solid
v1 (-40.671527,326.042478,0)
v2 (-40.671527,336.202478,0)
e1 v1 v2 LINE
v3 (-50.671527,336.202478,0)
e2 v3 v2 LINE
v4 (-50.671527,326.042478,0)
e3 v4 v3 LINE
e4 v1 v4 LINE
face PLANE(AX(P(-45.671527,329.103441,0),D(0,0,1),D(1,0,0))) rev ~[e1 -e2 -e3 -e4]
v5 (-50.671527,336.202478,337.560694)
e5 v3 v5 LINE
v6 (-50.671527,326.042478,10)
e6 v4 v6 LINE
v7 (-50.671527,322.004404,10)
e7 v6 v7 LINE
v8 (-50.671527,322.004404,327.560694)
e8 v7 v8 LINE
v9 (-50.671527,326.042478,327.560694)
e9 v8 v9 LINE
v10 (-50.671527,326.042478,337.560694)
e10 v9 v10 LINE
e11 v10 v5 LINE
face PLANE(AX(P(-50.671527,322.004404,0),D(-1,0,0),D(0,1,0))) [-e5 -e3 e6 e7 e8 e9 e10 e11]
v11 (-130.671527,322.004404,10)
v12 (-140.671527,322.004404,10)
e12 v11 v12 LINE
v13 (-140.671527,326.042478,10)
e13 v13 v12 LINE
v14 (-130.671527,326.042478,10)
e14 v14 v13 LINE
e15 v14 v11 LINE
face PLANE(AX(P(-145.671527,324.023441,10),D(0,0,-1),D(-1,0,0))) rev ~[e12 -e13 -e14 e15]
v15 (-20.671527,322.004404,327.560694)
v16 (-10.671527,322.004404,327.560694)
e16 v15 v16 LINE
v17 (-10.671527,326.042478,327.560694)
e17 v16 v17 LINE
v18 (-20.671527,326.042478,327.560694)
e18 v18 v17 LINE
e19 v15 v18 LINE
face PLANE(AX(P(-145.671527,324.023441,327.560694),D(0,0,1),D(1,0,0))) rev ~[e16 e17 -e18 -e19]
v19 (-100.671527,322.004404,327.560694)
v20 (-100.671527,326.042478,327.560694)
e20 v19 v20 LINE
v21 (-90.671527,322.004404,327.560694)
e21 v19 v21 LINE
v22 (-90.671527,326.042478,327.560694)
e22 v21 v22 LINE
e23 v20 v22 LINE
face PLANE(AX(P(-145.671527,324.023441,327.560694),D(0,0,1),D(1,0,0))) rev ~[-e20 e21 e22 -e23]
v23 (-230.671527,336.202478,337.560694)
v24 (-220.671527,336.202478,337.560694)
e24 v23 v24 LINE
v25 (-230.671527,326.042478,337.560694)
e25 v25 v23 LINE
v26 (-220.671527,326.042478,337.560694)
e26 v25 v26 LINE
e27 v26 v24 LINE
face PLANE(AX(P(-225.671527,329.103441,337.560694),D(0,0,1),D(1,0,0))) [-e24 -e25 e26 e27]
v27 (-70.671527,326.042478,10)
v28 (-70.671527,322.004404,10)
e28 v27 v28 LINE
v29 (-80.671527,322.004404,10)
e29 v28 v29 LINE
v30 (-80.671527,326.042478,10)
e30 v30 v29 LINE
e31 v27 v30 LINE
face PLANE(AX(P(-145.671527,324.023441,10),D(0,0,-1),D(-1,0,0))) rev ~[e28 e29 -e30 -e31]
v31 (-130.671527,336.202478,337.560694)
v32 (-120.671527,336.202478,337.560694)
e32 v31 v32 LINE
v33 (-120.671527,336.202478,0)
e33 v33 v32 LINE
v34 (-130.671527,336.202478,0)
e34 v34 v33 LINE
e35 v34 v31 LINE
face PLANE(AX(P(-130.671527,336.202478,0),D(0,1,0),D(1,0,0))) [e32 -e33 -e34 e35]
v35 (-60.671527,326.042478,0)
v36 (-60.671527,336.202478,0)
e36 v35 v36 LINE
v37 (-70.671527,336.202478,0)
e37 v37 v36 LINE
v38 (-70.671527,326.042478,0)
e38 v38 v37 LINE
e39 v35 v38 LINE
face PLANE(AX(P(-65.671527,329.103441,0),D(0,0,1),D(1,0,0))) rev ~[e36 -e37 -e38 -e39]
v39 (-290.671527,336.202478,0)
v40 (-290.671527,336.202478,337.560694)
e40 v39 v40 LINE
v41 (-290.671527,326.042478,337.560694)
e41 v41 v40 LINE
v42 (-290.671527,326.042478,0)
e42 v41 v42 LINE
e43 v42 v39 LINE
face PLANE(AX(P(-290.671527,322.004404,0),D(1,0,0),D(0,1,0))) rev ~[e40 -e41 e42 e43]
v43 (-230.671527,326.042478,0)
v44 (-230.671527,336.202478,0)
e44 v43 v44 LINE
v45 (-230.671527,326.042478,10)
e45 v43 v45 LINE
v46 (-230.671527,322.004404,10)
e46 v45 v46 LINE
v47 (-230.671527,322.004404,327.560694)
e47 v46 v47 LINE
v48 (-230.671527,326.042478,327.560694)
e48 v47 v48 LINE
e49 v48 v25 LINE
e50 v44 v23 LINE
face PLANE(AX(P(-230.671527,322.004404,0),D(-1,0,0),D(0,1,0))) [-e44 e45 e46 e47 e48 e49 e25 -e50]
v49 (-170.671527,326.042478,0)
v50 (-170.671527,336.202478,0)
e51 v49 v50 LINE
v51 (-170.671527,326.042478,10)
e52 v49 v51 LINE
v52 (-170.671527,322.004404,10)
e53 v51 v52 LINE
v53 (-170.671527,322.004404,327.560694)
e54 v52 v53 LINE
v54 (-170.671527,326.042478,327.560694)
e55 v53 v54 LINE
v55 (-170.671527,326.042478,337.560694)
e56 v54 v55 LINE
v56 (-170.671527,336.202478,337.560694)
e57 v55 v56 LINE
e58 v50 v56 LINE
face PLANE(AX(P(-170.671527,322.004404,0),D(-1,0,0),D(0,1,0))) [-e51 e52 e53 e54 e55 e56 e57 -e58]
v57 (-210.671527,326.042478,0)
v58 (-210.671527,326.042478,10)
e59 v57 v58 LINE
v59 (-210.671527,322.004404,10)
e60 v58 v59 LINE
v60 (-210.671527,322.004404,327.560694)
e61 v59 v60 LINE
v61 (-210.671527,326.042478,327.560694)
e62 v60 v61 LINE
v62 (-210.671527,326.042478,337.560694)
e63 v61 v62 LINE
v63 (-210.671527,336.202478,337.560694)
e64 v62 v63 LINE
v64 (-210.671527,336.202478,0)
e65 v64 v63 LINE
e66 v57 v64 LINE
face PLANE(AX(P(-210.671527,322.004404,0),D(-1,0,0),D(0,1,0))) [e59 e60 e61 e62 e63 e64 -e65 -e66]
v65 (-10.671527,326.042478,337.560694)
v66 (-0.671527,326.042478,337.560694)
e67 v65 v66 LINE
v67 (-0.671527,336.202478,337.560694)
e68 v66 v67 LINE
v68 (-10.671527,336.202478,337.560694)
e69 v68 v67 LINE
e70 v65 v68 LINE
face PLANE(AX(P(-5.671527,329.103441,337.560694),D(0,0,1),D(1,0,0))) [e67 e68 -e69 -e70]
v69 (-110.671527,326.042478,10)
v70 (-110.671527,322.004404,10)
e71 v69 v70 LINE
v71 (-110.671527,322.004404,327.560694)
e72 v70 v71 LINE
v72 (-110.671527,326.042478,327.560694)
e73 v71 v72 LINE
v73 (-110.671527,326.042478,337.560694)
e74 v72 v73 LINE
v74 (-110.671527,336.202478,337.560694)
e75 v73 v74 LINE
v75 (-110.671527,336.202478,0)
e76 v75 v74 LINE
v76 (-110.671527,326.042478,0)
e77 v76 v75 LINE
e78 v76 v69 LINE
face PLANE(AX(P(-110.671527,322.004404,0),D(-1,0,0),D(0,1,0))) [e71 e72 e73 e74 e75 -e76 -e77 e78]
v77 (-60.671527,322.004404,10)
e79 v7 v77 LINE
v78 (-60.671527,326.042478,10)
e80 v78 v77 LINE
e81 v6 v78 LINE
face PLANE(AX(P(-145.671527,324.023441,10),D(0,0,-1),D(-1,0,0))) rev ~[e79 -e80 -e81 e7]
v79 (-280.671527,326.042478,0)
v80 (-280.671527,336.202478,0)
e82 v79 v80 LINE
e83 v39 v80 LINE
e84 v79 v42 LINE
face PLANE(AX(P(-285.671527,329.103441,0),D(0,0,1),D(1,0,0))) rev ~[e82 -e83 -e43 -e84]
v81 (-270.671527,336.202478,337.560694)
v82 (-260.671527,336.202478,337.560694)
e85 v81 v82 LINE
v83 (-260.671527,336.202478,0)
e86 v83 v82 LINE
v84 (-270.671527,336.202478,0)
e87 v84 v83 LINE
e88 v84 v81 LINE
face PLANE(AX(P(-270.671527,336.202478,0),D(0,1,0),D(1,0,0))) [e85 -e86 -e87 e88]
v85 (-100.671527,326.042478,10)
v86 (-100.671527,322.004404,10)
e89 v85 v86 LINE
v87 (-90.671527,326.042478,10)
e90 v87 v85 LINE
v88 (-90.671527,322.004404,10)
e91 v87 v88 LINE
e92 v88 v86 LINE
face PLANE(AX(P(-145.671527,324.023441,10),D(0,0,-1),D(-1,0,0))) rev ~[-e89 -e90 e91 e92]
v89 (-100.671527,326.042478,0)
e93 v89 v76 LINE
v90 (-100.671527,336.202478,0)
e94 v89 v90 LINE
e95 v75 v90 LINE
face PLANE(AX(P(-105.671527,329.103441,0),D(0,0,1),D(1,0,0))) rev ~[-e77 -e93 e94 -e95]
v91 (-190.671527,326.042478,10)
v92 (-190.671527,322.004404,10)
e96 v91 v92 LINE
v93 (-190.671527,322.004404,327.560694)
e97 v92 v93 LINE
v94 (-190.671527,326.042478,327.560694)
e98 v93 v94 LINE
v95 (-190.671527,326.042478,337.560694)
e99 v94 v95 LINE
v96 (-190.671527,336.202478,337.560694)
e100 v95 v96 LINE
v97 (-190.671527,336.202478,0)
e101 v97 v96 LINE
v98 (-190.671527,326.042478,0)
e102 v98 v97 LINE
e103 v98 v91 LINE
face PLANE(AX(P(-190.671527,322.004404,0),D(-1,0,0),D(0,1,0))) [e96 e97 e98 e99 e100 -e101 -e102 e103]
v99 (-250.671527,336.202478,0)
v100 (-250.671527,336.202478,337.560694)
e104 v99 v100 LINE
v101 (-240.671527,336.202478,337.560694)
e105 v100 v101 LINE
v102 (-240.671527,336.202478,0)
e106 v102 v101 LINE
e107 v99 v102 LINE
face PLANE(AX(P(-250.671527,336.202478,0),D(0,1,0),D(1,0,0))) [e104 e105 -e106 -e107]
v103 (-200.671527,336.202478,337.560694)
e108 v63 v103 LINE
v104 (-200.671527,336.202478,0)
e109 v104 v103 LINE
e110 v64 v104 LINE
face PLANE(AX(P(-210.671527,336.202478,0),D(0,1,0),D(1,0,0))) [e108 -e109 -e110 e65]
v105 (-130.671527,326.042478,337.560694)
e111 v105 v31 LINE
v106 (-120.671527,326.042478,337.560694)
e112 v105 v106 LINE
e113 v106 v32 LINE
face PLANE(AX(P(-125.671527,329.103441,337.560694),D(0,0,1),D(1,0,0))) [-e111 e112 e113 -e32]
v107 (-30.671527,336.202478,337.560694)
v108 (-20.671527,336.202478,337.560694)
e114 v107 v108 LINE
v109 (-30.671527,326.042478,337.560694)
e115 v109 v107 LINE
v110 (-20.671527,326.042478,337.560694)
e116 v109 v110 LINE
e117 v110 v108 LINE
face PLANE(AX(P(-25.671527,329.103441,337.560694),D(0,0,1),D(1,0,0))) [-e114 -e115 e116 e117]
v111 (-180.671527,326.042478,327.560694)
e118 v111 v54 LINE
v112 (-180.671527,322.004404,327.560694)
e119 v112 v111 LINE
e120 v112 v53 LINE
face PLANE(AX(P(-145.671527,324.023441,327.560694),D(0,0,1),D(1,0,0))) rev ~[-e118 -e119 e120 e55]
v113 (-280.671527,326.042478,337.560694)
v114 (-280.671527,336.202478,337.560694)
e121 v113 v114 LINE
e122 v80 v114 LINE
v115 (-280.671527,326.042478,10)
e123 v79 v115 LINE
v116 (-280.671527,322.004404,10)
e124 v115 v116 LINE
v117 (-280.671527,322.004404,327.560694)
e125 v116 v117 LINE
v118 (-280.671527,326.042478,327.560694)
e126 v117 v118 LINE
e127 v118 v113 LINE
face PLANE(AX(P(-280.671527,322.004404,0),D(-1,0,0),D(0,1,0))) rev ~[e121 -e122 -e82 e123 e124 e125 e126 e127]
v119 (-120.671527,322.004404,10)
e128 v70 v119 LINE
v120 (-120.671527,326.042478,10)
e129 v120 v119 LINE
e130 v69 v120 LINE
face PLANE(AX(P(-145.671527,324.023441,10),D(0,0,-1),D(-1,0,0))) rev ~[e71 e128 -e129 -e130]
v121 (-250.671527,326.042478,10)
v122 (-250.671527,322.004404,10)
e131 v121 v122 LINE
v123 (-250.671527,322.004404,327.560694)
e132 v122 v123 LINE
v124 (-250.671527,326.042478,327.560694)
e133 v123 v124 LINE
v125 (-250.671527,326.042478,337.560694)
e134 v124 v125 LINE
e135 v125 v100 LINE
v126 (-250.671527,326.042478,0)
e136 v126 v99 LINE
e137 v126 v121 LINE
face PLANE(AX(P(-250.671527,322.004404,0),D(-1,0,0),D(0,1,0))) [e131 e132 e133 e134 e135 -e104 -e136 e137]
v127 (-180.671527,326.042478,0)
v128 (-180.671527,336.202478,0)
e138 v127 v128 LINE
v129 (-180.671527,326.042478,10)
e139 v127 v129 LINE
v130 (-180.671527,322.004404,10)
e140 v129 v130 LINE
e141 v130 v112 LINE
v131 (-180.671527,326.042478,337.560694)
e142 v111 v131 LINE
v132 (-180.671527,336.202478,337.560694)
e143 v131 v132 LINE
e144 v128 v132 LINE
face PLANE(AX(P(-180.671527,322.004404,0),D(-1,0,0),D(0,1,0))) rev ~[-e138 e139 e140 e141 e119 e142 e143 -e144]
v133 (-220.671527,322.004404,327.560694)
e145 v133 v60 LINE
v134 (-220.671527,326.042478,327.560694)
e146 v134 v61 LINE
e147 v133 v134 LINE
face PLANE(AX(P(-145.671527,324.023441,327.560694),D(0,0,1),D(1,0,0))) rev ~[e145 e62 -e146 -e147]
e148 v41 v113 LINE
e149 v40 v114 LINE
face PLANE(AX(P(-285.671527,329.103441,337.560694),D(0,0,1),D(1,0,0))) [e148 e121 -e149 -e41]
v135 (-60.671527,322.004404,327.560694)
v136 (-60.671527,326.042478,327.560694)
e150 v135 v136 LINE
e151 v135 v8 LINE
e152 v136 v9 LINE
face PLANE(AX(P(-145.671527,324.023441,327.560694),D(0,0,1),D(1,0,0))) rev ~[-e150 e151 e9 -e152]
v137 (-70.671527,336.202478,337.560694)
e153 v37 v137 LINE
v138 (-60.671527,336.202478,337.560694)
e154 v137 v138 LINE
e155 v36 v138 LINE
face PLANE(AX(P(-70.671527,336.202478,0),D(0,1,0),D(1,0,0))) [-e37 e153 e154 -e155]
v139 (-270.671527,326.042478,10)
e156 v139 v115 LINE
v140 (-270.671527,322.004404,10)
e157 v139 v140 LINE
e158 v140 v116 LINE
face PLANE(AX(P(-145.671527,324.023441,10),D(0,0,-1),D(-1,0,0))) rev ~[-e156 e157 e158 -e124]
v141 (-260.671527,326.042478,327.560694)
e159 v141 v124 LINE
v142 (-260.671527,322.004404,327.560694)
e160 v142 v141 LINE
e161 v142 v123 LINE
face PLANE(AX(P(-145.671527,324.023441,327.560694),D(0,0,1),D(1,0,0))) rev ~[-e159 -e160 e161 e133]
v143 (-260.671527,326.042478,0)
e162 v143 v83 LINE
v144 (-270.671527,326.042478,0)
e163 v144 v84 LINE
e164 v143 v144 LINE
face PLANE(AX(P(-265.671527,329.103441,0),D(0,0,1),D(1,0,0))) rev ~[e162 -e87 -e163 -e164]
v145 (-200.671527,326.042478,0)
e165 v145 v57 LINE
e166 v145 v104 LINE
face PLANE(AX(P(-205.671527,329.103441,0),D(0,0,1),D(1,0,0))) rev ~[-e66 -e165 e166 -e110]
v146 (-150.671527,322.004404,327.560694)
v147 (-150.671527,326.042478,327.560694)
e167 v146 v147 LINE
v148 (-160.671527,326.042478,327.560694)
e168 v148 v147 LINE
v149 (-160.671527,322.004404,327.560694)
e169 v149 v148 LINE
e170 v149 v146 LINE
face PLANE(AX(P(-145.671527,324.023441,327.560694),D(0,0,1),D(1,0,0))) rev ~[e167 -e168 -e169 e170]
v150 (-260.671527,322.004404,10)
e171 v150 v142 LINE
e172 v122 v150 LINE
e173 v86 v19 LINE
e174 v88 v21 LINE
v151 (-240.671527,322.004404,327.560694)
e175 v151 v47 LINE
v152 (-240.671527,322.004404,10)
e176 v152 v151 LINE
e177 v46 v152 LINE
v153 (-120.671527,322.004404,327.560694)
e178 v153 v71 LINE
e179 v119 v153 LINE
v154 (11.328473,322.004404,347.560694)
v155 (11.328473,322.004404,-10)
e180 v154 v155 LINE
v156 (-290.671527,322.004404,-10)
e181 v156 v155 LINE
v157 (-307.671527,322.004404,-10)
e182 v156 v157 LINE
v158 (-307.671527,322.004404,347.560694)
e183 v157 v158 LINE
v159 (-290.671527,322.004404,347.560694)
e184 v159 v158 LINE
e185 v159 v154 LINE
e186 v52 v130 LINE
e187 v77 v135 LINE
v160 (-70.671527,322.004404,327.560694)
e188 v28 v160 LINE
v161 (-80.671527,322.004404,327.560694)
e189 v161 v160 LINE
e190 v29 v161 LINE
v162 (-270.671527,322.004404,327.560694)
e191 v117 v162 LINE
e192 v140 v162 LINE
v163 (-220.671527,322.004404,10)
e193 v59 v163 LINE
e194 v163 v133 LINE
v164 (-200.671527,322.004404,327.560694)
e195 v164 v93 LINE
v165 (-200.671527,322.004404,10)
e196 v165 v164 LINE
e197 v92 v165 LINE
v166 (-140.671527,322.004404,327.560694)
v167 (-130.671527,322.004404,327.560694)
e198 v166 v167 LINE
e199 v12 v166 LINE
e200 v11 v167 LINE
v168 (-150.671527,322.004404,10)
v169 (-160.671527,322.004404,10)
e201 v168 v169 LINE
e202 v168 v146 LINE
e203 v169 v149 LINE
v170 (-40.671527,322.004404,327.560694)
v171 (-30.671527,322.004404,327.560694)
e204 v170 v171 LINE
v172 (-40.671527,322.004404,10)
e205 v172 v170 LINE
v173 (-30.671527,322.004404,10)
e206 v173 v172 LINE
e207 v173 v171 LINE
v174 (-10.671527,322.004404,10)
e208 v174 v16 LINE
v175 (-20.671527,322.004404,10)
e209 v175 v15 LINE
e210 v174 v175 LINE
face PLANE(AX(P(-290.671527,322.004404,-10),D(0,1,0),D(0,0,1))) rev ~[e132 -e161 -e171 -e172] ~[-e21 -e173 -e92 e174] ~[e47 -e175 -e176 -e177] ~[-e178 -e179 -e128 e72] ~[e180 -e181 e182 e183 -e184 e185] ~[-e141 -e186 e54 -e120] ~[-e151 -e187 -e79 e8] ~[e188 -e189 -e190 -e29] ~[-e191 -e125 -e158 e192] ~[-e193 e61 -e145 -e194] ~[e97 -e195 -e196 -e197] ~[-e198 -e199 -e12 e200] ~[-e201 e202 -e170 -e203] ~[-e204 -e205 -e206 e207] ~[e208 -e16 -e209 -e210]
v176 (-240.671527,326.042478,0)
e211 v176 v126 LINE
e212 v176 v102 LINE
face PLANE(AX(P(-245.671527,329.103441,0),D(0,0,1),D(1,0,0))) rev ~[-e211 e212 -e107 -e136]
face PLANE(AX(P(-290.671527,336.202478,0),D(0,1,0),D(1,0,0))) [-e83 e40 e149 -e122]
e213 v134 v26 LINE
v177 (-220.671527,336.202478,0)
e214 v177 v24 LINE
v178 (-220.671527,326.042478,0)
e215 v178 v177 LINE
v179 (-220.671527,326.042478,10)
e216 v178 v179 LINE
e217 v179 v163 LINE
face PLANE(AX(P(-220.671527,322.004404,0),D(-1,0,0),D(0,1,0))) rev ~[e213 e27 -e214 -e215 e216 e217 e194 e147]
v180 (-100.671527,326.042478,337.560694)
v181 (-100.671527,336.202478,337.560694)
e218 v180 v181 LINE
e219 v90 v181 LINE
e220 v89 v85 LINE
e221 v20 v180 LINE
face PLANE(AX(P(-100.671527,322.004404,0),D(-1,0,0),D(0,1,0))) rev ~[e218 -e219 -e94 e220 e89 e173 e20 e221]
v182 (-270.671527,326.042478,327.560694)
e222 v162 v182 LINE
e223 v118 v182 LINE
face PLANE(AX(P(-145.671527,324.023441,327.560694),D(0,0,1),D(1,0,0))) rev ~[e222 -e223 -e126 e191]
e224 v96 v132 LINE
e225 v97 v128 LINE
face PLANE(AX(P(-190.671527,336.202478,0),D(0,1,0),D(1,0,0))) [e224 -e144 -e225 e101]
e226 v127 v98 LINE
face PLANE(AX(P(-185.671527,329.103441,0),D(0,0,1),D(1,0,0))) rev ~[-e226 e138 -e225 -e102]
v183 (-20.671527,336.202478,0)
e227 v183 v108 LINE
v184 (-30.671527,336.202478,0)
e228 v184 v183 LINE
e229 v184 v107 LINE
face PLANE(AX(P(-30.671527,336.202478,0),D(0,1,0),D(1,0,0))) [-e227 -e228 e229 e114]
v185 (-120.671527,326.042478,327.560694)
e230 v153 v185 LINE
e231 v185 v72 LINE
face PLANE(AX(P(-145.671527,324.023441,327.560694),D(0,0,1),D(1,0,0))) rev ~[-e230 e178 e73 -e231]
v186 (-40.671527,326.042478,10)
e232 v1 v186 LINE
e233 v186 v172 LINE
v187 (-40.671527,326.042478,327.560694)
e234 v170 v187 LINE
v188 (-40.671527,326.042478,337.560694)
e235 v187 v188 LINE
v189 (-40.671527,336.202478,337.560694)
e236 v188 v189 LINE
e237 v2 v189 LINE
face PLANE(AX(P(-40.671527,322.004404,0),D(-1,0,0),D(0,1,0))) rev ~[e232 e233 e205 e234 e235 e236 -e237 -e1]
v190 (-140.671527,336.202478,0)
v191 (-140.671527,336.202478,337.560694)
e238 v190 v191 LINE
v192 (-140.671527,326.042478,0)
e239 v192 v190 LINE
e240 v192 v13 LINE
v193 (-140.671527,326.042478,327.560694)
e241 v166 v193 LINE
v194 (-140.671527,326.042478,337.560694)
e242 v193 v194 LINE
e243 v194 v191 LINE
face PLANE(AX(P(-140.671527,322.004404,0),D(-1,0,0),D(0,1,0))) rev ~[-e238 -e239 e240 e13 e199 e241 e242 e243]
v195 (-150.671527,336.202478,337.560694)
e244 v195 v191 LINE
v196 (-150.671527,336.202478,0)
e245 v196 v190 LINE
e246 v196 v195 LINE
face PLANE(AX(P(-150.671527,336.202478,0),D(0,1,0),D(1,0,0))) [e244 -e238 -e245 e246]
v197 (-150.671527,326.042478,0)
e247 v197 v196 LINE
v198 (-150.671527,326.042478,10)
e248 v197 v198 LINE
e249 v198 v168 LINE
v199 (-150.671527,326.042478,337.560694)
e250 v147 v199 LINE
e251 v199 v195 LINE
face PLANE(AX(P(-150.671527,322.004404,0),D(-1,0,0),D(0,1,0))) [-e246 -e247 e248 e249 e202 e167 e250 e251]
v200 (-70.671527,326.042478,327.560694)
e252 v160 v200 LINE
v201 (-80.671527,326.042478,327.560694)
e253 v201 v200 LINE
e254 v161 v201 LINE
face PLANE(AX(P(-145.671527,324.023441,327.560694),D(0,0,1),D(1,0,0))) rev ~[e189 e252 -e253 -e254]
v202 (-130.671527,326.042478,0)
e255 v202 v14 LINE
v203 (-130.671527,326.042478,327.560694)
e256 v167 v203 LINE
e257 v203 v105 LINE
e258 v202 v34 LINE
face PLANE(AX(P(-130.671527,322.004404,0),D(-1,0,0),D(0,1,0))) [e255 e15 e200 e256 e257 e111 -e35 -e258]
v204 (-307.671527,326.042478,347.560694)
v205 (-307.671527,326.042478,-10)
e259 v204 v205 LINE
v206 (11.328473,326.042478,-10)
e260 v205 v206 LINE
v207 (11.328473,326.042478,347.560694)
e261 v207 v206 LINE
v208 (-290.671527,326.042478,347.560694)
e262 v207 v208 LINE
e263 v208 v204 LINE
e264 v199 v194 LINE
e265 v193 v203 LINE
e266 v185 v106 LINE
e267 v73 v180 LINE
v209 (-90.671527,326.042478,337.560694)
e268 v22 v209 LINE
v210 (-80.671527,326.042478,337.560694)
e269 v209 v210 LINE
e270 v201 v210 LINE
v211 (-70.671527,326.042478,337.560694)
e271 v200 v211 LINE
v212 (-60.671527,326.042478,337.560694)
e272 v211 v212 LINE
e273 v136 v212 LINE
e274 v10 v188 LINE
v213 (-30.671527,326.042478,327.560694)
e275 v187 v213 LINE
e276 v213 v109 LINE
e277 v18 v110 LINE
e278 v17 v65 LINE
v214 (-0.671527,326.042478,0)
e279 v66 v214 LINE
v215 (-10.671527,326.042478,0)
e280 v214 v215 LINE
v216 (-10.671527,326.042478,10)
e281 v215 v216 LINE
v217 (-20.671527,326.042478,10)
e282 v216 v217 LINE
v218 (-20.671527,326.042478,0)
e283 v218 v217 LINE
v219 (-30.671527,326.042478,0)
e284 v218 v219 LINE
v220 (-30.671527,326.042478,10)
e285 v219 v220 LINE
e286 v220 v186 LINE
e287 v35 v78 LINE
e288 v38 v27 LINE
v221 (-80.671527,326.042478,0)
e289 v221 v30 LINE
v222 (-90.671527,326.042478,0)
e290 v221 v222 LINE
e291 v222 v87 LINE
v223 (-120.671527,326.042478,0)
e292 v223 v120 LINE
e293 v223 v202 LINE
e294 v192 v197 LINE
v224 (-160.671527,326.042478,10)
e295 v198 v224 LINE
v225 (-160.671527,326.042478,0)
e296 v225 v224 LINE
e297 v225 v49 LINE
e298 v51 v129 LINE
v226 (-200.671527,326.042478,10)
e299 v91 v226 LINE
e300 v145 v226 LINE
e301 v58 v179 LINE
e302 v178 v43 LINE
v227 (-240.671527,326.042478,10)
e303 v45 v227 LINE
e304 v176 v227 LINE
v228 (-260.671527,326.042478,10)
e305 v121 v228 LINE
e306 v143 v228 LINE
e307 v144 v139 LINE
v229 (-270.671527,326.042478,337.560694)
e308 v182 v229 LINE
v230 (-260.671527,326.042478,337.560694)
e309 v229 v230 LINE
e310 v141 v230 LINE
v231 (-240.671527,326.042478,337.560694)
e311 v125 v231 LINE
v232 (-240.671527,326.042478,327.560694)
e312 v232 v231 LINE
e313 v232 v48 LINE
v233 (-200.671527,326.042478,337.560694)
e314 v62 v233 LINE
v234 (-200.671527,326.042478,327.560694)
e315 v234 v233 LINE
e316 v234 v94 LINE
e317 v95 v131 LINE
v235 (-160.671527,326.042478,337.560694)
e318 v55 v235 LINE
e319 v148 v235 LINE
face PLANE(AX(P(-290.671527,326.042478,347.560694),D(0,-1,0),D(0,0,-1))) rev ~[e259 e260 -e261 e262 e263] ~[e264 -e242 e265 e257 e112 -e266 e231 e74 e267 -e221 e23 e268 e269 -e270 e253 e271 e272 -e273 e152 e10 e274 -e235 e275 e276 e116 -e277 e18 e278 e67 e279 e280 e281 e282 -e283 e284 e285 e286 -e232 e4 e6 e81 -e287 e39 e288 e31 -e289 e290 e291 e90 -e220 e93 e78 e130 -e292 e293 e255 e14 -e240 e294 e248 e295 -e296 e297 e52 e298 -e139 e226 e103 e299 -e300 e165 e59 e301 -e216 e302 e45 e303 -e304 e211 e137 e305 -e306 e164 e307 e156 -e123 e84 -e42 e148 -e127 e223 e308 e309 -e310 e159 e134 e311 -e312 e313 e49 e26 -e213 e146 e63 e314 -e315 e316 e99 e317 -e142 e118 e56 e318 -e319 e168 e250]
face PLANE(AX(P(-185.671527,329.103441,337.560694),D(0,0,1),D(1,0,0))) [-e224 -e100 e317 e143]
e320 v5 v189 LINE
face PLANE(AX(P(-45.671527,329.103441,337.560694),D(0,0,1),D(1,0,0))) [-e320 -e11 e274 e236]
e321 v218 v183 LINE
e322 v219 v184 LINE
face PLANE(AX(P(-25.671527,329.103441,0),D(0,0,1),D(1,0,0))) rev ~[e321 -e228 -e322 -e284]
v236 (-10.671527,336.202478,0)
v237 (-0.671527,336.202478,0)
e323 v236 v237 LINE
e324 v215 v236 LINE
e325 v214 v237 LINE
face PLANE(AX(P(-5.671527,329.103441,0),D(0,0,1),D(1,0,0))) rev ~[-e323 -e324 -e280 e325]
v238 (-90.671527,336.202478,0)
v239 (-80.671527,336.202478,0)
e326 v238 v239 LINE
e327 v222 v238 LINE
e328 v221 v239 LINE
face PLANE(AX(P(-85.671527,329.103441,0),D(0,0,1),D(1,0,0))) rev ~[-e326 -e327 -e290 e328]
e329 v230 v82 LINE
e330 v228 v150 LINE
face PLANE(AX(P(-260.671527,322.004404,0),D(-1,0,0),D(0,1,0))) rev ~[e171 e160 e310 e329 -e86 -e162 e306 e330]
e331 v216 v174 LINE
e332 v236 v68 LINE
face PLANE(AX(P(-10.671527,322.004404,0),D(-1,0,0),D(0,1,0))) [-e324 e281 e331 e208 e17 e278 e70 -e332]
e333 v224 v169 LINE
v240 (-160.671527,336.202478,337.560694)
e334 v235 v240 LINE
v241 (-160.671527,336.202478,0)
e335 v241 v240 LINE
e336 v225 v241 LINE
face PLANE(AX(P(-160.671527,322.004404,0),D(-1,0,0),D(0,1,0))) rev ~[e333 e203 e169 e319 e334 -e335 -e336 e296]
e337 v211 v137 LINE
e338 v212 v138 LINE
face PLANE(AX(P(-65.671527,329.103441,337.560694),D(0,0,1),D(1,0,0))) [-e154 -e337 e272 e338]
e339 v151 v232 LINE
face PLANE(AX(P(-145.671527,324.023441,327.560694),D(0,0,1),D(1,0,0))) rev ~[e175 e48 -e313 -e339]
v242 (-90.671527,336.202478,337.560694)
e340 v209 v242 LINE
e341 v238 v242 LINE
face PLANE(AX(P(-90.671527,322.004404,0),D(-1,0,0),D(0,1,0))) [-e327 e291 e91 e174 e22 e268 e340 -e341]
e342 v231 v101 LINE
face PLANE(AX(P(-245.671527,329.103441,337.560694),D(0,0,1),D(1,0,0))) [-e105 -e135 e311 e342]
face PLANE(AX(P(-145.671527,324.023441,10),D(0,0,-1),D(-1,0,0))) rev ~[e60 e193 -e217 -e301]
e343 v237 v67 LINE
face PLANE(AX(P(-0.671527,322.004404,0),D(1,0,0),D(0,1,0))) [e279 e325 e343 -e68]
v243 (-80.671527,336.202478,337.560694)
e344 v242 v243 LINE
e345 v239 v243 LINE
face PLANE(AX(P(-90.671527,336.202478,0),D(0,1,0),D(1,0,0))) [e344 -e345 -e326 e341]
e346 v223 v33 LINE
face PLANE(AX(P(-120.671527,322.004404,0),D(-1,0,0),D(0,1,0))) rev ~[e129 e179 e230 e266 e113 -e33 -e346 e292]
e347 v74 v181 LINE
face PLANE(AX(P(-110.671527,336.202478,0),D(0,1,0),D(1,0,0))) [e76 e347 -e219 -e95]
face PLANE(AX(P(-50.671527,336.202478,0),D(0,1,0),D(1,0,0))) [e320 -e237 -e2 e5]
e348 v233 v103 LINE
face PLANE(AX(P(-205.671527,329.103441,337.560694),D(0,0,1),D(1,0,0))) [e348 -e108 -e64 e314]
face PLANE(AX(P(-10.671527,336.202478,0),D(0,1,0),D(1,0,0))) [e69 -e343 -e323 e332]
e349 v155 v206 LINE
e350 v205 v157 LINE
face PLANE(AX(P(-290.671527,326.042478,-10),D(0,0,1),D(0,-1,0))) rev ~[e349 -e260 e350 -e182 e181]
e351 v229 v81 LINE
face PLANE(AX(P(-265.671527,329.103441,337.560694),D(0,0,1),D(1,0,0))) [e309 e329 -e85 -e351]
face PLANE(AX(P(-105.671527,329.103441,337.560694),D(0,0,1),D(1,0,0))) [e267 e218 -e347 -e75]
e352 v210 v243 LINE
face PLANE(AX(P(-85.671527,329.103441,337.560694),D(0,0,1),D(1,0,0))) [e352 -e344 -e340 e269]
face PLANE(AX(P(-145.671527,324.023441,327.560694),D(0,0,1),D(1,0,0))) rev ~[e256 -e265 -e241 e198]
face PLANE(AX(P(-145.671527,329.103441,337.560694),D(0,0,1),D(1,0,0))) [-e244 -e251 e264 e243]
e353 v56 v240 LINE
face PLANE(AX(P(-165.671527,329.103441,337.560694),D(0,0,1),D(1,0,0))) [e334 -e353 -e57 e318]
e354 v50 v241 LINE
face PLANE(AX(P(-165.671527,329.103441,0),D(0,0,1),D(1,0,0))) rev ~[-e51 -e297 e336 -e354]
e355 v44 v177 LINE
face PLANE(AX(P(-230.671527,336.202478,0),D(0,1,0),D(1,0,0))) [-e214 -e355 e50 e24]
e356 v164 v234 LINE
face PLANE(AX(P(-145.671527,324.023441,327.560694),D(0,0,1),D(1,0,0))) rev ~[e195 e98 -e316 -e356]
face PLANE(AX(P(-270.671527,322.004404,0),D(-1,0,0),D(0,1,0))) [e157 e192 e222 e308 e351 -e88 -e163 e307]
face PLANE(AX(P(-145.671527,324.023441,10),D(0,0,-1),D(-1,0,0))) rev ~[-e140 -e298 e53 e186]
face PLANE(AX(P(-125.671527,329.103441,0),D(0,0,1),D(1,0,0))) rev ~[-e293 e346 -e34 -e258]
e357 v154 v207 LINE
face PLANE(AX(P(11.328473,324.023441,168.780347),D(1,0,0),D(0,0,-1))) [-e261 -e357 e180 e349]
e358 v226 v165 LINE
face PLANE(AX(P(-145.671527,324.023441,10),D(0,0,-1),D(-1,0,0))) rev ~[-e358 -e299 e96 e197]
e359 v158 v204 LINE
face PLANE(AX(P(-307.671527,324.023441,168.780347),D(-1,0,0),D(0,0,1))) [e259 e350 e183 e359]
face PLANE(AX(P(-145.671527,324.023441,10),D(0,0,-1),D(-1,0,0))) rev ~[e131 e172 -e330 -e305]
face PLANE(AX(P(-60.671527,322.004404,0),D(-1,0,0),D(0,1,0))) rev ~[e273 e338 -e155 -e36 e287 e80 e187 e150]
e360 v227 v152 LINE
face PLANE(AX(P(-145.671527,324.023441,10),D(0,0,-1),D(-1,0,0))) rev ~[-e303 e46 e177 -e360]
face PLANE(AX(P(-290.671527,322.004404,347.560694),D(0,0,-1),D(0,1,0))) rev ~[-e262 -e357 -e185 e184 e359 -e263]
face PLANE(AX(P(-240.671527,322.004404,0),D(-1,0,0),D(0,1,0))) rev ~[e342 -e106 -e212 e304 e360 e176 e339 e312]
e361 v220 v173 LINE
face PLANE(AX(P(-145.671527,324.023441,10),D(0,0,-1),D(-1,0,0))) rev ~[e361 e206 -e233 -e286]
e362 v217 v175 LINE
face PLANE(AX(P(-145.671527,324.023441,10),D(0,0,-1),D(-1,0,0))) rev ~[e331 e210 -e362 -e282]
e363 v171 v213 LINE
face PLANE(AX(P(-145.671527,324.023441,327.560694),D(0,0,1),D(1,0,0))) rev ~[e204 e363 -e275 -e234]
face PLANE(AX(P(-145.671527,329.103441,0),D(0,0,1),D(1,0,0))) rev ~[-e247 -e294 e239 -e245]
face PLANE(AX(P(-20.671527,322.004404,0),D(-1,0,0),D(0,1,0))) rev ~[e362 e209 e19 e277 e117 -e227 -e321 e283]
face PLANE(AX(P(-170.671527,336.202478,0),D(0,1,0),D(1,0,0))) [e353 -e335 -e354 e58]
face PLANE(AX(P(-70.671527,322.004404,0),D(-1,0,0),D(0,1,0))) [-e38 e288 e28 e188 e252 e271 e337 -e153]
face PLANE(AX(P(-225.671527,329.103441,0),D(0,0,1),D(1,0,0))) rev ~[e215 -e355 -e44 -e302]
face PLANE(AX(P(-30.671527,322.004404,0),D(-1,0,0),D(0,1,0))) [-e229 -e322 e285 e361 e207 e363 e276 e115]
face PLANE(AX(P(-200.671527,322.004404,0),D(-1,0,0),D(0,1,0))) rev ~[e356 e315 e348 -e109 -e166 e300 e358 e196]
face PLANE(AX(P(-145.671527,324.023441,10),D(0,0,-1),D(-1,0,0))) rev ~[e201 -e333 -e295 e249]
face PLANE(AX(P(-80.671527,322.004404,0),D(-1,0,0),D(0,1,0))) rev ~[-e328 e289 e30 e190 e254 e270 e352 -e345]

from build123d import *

# Parameters (mm, degrees)
SKETCH1_W                = 10
SKETCH1_H                = 14.198074023
BOSS_EXTRUDE1_DEPTH      = 337.560694
BOSS_EXTRUDE1_2_DEPTH    = 337.560694
BOSS_EXTRUDE1_3_DEPTH    = 337.560694
BOSS_EXTRUDE1_4_DEPTH    = 337.560694
BOSS_EXTRUDE1_5_DEPTH    = 337.560694
BOSS_EXTRUDE1_6_DEPTH    = 337.560694
BOSS_EXTRUDE1_7_DEPTH    = 337.560694
BOSS_EXTRUDE1_8_DEPTH    = 337.560694
BOSS_EXTRUDE1_9_DEPTH    = 337.560694
BOSS_EXTRUDE1_10_DEPTH   = 337.560694
BOSS_EXTRUDE1_11_DEPTH   = 337.560694
BOSS_EXTRUDE1_12_DEPTH   = 337.560694
BOSS_EXTRUDE1_13_DEPTH   = 337.560694
BOSS_EXTRUDE1_14_DEPTH   = 337.560694
BOSS_EXTRUDE1_15_DEPTH   = 337.560694
SKETCH2_W                = 290
SKETCH2_H                = 4.038074023
BOSS_EXTRUDE2_DEPTH      = 10
BOSS_EXTRUDE2_DEPTH_BACK = 10
SKETCH3_W                = 290
SKETCH3_H                = 4.038074023
BOSS_EXTRUDE3_DEPTH      = 10
BOSS_EXTRUDE3_DEPTH_BACK = 10
SKETCH4_W                = 357.560693512
SKETCH4_H                = 4.038074023
BOSS_EXTRUDE4_DEPTH      = 12
BOSS_EXTRUDE6_DEPTH      = 17


with BuildPart() as part:
    # Sketch1 → Boss-Extrude1 (new body)
    with BuildSketch(Plane.XY):
        with Locations((-5.671527203, 329.103441202)):
            Rectangle(SKETCH1_W, SKETCH1_H)
    extrude(amount=BOSS_EXTRUDE1_DEPTH)



with BuildPart() as body_2:
    # Sketch1 → Boss-Extrude1 2 (new body)
    with BuildSketch(Plane.XY):
        with Locations((-25.671527203, 329.103441202)):
            Rectangle(SKETCH1_W, SKETCH1_H)
    extrude(amount=BOSS_EXTRUDE1_2_DEPTH)


with BuildPart() as body_3:
    # Sketch1 → Boss-Extrude1 3 (new body)
    with BuildSketch(Plane.XY):
        with Locations((-45.671527203, 329.103441202)):
            Rectangle(SKETCH1_W, SKETCH1_H)
    extrude(amount=BOSS_EXTRUDE1_3_DEPTH)


with BuildPart() as body_4:
    # Sketch1 → Boss-Extrude1 4 (new body)
    with BuildSketch(Plane.XY):
        with Locations((-65.671527203, 329.103441202)):
            Rectangle(SKETCH1_W, SKETCH1_H)
    extrude(amount=BOSS_EXTRUDE1_4_DEPTH)


with BuildPart() as body_5:
    # Sketch1 → Boss-Extrude1 5 (new body)
    with BuildSketch(Plane.XY):
        with Locations((-85.671527203, 329.103441202)):
            Rectangle(SKETCH1_W, SKETCH1_H)
    extrude(amount=BOSS_EXTRUDE1_5_DEPTH)


with BuildPart() as body_6:
    # Sketch1 → Boss-Extrude1 6 (new body)
    with BuildSketch(Plane.XY):
        with Locations((-105.671527203, 329.103441202)):
            Rectangle(SKETCH1_W, SKETCH1_H)
    extrude(amount=BOSS_EXTRUDE1_6_DEPTH)


with BuildPart() as body_7:
    # Sketch1 → Boss-Extrude1 7 (new body)
    with BuildSketch(Plane.XY):
        with Locations((-125.671527203, 329.103441202)):
            Rectangle(SKETCH1_W, SKETCH1_H)
    extrude(amount=BOSS_EXTRUDE1_7_DEPTH)


with BuildPart() as body_8:
    # Sketch1 → Boss-Extrude1 8 (new body)
    with BuildSketch(Plane.XY):
        with Locations((-145.671527203, 329.103441202)):
            Rectangle(SKETCH1_W, SKETCH1_H)
    extrude(amount=BOSS_EXTRUDE1_8_DEPTH)


with BuildPart() as body_9:
    # Sketch1 → Boss-Extrude1 9 (new body)
    with BuildSketch(Plane.XY):
        with Locations((-165.671527203, 329.103441202)):
            Rectangle(SKETCH1_W, SKETCH1_H)
    extrude(amount=BOSS_EXTRUDE1_9_DEPTH)


with BuildPart() as body_10:
    # Sketch1 → Boss-Extrude1 10 (new body)
    with BuildSketch(Plane.XY):
        with Locations((-185.671527203, 329.103441202)):
            Rectangle(SKETCH1_W, SKETCH1_H)
    extrude(amount=BOSS_EXTRUDE1_10_DEPTH)


with BuildPart() as body_11:
    # Sketch1 → Boss-Extrude1 11 (new body)
    with BuildSketch(Plane.XY):
        with Locations((-205.671527203, 329.103441202)):
            Rectangle(SKETCH1_W, SKETCH1_H)
    extrude(amount=BOSS_EXTRUDE1_11_DEPTH)


with BuildPart() as body_12:
    # Sketch1 → Boss-Extrude1 12 (new body)
    with BuildSketch(Plane.XY):
        with Locations((-225.671527203, 329.103441202)):
            Rectangle(SKETCH1_W, SKETCH1_H)
    extrude(amount=BOSS_EXTRUDE1_12_DEPTH)


with BuildPart() as body_13:
    # Sketch1 → Boss-Extrude1 13 (new body)
    with BuildSketch(Plane.XY):
        with Locations((-245.671527203, 329.103441202)):
            Rectangle(SKETCH1_W, SKETCH1_H)
    extrude(amount=BOSS_EXTRUDE1_13_DEPTH)


with BuildPart() as body_14:
    # Sketch1 → Boss-Extrude1 14 (new body)
    with BuildSketch(Plane.XY):
        with Locations((-265.671527203, 329.103441202)):
            Rectangle(SKETCH1_W, SKETCH1_H)
    extrude(amount=BOSS_EXTRUDE1_14_DEPTH)


with BuildPart() as body_15:
    # Sketch1 → Boss-Extrude1 15 (new body)
    with BuildSketch(Plane.XY):
        with Locations((-285.671527203, 329.103441202)):
            Rectangle(SKETCH1_W, SKETCH1_H)
    extrude(amount=BOSS_EXTRUDE1_15_DEPTH)


with BuildPart() as part_1:
    add(part.part)

    add(body_2.part)  # Boss-Extrude2 merges body 2

    add(body_3.part)  # Boss-Extrude2 merges body 3

    add(body_4.part)  # Boss-Extrude2 merges body 4

    add(body_5.part)  # Boss-Extrude2 merges body 5

    add(body_6.part)  # Boss-Extrude2 merges body 6

    add(body_7.part)  # Boss-Extrude2 merges body 7

    add(body_8.part)  # Boss-Extrude2 merges body 8

    add(body_9.part)  # Boss-Extrude2 merges body 9

    add(body_10.part)  # Boss-Extrude2 merges body 10

    add(body_11.part)  # Boss-Extrude2 merges body 11

    add(body_12.part)  # Boss-Extrude2 merges body 12

    add(body_13.part)  # Boss-Extrude2 merges body 13

    add(body_14.part)  # Boss-Extrude2 merges body 14

    add(body_15.part)  # Boss-Extrude2 merges body 15
    # Sketch2 → Boss-Extrude2 (add, two sides)
    with BuildSketch(Plane.XY.offset(337.560693512)) as boss_extrude2_sk:
        with Locations((-145.671527203, 324.023441203)):
            Rectangle(SKETCH2_W, SKETCH2_H)
    extrude(amount=BOSS_EXTRUDE2_DEPTH)
    extrude(boss_extrude2_sk.sketch, amount=-BOSS_EXTRUDE2_DEPTH_BACK)

    # Sketch3 → Boss-Extrude3 (add, two sides)
    with BuildSketch(Plane(origin=(0, 0, 0), x_dir=(-1, 0, 0), z_dir=(0, 0, -1))) as boss_extrude3_sk:
        with Locations((145.671527203, 324.023441203)):
            Rectangle(SKETCH3_W, SKETCH3_H)
    extrude(amount=BOSS_EXTRUDE3_DEPTH)
    extrude(boss_extrude3_sk.sketch, amount=-BOSS_EXTRUDE3_DEPTH_BACK)

    # Sketch4 → Boss-Extrude4 (add)
    with BuildSketch(Plane(origin=(-0.671527203, 0, 0), x_dir=(0, 0, -1), z_dir=(1, 0, 0))):
        with Locations((-168.780346756, 324.023441203)):
            Rectangle(SKETCH4_W, SKETCH4_H)
    extrude(amount=BOSS_EXTRUDE4_DEPTH)

    # Sketch5 → Boss-Extrude6 (add)
    with BuildSketch(Plane.ZY.offset(290.671527203)):
        Polygon((337.560693512, 326.042478214), (0, 326.042478214), (-10, 326.042478214), (-10, 322.004404191), (347.560693512, 322.004404191), (347.560693512, 326.042478214), align=None)
    extrude(amount=BOSS_EXTRUDE6_DEPTH)


solid = part_1.part
